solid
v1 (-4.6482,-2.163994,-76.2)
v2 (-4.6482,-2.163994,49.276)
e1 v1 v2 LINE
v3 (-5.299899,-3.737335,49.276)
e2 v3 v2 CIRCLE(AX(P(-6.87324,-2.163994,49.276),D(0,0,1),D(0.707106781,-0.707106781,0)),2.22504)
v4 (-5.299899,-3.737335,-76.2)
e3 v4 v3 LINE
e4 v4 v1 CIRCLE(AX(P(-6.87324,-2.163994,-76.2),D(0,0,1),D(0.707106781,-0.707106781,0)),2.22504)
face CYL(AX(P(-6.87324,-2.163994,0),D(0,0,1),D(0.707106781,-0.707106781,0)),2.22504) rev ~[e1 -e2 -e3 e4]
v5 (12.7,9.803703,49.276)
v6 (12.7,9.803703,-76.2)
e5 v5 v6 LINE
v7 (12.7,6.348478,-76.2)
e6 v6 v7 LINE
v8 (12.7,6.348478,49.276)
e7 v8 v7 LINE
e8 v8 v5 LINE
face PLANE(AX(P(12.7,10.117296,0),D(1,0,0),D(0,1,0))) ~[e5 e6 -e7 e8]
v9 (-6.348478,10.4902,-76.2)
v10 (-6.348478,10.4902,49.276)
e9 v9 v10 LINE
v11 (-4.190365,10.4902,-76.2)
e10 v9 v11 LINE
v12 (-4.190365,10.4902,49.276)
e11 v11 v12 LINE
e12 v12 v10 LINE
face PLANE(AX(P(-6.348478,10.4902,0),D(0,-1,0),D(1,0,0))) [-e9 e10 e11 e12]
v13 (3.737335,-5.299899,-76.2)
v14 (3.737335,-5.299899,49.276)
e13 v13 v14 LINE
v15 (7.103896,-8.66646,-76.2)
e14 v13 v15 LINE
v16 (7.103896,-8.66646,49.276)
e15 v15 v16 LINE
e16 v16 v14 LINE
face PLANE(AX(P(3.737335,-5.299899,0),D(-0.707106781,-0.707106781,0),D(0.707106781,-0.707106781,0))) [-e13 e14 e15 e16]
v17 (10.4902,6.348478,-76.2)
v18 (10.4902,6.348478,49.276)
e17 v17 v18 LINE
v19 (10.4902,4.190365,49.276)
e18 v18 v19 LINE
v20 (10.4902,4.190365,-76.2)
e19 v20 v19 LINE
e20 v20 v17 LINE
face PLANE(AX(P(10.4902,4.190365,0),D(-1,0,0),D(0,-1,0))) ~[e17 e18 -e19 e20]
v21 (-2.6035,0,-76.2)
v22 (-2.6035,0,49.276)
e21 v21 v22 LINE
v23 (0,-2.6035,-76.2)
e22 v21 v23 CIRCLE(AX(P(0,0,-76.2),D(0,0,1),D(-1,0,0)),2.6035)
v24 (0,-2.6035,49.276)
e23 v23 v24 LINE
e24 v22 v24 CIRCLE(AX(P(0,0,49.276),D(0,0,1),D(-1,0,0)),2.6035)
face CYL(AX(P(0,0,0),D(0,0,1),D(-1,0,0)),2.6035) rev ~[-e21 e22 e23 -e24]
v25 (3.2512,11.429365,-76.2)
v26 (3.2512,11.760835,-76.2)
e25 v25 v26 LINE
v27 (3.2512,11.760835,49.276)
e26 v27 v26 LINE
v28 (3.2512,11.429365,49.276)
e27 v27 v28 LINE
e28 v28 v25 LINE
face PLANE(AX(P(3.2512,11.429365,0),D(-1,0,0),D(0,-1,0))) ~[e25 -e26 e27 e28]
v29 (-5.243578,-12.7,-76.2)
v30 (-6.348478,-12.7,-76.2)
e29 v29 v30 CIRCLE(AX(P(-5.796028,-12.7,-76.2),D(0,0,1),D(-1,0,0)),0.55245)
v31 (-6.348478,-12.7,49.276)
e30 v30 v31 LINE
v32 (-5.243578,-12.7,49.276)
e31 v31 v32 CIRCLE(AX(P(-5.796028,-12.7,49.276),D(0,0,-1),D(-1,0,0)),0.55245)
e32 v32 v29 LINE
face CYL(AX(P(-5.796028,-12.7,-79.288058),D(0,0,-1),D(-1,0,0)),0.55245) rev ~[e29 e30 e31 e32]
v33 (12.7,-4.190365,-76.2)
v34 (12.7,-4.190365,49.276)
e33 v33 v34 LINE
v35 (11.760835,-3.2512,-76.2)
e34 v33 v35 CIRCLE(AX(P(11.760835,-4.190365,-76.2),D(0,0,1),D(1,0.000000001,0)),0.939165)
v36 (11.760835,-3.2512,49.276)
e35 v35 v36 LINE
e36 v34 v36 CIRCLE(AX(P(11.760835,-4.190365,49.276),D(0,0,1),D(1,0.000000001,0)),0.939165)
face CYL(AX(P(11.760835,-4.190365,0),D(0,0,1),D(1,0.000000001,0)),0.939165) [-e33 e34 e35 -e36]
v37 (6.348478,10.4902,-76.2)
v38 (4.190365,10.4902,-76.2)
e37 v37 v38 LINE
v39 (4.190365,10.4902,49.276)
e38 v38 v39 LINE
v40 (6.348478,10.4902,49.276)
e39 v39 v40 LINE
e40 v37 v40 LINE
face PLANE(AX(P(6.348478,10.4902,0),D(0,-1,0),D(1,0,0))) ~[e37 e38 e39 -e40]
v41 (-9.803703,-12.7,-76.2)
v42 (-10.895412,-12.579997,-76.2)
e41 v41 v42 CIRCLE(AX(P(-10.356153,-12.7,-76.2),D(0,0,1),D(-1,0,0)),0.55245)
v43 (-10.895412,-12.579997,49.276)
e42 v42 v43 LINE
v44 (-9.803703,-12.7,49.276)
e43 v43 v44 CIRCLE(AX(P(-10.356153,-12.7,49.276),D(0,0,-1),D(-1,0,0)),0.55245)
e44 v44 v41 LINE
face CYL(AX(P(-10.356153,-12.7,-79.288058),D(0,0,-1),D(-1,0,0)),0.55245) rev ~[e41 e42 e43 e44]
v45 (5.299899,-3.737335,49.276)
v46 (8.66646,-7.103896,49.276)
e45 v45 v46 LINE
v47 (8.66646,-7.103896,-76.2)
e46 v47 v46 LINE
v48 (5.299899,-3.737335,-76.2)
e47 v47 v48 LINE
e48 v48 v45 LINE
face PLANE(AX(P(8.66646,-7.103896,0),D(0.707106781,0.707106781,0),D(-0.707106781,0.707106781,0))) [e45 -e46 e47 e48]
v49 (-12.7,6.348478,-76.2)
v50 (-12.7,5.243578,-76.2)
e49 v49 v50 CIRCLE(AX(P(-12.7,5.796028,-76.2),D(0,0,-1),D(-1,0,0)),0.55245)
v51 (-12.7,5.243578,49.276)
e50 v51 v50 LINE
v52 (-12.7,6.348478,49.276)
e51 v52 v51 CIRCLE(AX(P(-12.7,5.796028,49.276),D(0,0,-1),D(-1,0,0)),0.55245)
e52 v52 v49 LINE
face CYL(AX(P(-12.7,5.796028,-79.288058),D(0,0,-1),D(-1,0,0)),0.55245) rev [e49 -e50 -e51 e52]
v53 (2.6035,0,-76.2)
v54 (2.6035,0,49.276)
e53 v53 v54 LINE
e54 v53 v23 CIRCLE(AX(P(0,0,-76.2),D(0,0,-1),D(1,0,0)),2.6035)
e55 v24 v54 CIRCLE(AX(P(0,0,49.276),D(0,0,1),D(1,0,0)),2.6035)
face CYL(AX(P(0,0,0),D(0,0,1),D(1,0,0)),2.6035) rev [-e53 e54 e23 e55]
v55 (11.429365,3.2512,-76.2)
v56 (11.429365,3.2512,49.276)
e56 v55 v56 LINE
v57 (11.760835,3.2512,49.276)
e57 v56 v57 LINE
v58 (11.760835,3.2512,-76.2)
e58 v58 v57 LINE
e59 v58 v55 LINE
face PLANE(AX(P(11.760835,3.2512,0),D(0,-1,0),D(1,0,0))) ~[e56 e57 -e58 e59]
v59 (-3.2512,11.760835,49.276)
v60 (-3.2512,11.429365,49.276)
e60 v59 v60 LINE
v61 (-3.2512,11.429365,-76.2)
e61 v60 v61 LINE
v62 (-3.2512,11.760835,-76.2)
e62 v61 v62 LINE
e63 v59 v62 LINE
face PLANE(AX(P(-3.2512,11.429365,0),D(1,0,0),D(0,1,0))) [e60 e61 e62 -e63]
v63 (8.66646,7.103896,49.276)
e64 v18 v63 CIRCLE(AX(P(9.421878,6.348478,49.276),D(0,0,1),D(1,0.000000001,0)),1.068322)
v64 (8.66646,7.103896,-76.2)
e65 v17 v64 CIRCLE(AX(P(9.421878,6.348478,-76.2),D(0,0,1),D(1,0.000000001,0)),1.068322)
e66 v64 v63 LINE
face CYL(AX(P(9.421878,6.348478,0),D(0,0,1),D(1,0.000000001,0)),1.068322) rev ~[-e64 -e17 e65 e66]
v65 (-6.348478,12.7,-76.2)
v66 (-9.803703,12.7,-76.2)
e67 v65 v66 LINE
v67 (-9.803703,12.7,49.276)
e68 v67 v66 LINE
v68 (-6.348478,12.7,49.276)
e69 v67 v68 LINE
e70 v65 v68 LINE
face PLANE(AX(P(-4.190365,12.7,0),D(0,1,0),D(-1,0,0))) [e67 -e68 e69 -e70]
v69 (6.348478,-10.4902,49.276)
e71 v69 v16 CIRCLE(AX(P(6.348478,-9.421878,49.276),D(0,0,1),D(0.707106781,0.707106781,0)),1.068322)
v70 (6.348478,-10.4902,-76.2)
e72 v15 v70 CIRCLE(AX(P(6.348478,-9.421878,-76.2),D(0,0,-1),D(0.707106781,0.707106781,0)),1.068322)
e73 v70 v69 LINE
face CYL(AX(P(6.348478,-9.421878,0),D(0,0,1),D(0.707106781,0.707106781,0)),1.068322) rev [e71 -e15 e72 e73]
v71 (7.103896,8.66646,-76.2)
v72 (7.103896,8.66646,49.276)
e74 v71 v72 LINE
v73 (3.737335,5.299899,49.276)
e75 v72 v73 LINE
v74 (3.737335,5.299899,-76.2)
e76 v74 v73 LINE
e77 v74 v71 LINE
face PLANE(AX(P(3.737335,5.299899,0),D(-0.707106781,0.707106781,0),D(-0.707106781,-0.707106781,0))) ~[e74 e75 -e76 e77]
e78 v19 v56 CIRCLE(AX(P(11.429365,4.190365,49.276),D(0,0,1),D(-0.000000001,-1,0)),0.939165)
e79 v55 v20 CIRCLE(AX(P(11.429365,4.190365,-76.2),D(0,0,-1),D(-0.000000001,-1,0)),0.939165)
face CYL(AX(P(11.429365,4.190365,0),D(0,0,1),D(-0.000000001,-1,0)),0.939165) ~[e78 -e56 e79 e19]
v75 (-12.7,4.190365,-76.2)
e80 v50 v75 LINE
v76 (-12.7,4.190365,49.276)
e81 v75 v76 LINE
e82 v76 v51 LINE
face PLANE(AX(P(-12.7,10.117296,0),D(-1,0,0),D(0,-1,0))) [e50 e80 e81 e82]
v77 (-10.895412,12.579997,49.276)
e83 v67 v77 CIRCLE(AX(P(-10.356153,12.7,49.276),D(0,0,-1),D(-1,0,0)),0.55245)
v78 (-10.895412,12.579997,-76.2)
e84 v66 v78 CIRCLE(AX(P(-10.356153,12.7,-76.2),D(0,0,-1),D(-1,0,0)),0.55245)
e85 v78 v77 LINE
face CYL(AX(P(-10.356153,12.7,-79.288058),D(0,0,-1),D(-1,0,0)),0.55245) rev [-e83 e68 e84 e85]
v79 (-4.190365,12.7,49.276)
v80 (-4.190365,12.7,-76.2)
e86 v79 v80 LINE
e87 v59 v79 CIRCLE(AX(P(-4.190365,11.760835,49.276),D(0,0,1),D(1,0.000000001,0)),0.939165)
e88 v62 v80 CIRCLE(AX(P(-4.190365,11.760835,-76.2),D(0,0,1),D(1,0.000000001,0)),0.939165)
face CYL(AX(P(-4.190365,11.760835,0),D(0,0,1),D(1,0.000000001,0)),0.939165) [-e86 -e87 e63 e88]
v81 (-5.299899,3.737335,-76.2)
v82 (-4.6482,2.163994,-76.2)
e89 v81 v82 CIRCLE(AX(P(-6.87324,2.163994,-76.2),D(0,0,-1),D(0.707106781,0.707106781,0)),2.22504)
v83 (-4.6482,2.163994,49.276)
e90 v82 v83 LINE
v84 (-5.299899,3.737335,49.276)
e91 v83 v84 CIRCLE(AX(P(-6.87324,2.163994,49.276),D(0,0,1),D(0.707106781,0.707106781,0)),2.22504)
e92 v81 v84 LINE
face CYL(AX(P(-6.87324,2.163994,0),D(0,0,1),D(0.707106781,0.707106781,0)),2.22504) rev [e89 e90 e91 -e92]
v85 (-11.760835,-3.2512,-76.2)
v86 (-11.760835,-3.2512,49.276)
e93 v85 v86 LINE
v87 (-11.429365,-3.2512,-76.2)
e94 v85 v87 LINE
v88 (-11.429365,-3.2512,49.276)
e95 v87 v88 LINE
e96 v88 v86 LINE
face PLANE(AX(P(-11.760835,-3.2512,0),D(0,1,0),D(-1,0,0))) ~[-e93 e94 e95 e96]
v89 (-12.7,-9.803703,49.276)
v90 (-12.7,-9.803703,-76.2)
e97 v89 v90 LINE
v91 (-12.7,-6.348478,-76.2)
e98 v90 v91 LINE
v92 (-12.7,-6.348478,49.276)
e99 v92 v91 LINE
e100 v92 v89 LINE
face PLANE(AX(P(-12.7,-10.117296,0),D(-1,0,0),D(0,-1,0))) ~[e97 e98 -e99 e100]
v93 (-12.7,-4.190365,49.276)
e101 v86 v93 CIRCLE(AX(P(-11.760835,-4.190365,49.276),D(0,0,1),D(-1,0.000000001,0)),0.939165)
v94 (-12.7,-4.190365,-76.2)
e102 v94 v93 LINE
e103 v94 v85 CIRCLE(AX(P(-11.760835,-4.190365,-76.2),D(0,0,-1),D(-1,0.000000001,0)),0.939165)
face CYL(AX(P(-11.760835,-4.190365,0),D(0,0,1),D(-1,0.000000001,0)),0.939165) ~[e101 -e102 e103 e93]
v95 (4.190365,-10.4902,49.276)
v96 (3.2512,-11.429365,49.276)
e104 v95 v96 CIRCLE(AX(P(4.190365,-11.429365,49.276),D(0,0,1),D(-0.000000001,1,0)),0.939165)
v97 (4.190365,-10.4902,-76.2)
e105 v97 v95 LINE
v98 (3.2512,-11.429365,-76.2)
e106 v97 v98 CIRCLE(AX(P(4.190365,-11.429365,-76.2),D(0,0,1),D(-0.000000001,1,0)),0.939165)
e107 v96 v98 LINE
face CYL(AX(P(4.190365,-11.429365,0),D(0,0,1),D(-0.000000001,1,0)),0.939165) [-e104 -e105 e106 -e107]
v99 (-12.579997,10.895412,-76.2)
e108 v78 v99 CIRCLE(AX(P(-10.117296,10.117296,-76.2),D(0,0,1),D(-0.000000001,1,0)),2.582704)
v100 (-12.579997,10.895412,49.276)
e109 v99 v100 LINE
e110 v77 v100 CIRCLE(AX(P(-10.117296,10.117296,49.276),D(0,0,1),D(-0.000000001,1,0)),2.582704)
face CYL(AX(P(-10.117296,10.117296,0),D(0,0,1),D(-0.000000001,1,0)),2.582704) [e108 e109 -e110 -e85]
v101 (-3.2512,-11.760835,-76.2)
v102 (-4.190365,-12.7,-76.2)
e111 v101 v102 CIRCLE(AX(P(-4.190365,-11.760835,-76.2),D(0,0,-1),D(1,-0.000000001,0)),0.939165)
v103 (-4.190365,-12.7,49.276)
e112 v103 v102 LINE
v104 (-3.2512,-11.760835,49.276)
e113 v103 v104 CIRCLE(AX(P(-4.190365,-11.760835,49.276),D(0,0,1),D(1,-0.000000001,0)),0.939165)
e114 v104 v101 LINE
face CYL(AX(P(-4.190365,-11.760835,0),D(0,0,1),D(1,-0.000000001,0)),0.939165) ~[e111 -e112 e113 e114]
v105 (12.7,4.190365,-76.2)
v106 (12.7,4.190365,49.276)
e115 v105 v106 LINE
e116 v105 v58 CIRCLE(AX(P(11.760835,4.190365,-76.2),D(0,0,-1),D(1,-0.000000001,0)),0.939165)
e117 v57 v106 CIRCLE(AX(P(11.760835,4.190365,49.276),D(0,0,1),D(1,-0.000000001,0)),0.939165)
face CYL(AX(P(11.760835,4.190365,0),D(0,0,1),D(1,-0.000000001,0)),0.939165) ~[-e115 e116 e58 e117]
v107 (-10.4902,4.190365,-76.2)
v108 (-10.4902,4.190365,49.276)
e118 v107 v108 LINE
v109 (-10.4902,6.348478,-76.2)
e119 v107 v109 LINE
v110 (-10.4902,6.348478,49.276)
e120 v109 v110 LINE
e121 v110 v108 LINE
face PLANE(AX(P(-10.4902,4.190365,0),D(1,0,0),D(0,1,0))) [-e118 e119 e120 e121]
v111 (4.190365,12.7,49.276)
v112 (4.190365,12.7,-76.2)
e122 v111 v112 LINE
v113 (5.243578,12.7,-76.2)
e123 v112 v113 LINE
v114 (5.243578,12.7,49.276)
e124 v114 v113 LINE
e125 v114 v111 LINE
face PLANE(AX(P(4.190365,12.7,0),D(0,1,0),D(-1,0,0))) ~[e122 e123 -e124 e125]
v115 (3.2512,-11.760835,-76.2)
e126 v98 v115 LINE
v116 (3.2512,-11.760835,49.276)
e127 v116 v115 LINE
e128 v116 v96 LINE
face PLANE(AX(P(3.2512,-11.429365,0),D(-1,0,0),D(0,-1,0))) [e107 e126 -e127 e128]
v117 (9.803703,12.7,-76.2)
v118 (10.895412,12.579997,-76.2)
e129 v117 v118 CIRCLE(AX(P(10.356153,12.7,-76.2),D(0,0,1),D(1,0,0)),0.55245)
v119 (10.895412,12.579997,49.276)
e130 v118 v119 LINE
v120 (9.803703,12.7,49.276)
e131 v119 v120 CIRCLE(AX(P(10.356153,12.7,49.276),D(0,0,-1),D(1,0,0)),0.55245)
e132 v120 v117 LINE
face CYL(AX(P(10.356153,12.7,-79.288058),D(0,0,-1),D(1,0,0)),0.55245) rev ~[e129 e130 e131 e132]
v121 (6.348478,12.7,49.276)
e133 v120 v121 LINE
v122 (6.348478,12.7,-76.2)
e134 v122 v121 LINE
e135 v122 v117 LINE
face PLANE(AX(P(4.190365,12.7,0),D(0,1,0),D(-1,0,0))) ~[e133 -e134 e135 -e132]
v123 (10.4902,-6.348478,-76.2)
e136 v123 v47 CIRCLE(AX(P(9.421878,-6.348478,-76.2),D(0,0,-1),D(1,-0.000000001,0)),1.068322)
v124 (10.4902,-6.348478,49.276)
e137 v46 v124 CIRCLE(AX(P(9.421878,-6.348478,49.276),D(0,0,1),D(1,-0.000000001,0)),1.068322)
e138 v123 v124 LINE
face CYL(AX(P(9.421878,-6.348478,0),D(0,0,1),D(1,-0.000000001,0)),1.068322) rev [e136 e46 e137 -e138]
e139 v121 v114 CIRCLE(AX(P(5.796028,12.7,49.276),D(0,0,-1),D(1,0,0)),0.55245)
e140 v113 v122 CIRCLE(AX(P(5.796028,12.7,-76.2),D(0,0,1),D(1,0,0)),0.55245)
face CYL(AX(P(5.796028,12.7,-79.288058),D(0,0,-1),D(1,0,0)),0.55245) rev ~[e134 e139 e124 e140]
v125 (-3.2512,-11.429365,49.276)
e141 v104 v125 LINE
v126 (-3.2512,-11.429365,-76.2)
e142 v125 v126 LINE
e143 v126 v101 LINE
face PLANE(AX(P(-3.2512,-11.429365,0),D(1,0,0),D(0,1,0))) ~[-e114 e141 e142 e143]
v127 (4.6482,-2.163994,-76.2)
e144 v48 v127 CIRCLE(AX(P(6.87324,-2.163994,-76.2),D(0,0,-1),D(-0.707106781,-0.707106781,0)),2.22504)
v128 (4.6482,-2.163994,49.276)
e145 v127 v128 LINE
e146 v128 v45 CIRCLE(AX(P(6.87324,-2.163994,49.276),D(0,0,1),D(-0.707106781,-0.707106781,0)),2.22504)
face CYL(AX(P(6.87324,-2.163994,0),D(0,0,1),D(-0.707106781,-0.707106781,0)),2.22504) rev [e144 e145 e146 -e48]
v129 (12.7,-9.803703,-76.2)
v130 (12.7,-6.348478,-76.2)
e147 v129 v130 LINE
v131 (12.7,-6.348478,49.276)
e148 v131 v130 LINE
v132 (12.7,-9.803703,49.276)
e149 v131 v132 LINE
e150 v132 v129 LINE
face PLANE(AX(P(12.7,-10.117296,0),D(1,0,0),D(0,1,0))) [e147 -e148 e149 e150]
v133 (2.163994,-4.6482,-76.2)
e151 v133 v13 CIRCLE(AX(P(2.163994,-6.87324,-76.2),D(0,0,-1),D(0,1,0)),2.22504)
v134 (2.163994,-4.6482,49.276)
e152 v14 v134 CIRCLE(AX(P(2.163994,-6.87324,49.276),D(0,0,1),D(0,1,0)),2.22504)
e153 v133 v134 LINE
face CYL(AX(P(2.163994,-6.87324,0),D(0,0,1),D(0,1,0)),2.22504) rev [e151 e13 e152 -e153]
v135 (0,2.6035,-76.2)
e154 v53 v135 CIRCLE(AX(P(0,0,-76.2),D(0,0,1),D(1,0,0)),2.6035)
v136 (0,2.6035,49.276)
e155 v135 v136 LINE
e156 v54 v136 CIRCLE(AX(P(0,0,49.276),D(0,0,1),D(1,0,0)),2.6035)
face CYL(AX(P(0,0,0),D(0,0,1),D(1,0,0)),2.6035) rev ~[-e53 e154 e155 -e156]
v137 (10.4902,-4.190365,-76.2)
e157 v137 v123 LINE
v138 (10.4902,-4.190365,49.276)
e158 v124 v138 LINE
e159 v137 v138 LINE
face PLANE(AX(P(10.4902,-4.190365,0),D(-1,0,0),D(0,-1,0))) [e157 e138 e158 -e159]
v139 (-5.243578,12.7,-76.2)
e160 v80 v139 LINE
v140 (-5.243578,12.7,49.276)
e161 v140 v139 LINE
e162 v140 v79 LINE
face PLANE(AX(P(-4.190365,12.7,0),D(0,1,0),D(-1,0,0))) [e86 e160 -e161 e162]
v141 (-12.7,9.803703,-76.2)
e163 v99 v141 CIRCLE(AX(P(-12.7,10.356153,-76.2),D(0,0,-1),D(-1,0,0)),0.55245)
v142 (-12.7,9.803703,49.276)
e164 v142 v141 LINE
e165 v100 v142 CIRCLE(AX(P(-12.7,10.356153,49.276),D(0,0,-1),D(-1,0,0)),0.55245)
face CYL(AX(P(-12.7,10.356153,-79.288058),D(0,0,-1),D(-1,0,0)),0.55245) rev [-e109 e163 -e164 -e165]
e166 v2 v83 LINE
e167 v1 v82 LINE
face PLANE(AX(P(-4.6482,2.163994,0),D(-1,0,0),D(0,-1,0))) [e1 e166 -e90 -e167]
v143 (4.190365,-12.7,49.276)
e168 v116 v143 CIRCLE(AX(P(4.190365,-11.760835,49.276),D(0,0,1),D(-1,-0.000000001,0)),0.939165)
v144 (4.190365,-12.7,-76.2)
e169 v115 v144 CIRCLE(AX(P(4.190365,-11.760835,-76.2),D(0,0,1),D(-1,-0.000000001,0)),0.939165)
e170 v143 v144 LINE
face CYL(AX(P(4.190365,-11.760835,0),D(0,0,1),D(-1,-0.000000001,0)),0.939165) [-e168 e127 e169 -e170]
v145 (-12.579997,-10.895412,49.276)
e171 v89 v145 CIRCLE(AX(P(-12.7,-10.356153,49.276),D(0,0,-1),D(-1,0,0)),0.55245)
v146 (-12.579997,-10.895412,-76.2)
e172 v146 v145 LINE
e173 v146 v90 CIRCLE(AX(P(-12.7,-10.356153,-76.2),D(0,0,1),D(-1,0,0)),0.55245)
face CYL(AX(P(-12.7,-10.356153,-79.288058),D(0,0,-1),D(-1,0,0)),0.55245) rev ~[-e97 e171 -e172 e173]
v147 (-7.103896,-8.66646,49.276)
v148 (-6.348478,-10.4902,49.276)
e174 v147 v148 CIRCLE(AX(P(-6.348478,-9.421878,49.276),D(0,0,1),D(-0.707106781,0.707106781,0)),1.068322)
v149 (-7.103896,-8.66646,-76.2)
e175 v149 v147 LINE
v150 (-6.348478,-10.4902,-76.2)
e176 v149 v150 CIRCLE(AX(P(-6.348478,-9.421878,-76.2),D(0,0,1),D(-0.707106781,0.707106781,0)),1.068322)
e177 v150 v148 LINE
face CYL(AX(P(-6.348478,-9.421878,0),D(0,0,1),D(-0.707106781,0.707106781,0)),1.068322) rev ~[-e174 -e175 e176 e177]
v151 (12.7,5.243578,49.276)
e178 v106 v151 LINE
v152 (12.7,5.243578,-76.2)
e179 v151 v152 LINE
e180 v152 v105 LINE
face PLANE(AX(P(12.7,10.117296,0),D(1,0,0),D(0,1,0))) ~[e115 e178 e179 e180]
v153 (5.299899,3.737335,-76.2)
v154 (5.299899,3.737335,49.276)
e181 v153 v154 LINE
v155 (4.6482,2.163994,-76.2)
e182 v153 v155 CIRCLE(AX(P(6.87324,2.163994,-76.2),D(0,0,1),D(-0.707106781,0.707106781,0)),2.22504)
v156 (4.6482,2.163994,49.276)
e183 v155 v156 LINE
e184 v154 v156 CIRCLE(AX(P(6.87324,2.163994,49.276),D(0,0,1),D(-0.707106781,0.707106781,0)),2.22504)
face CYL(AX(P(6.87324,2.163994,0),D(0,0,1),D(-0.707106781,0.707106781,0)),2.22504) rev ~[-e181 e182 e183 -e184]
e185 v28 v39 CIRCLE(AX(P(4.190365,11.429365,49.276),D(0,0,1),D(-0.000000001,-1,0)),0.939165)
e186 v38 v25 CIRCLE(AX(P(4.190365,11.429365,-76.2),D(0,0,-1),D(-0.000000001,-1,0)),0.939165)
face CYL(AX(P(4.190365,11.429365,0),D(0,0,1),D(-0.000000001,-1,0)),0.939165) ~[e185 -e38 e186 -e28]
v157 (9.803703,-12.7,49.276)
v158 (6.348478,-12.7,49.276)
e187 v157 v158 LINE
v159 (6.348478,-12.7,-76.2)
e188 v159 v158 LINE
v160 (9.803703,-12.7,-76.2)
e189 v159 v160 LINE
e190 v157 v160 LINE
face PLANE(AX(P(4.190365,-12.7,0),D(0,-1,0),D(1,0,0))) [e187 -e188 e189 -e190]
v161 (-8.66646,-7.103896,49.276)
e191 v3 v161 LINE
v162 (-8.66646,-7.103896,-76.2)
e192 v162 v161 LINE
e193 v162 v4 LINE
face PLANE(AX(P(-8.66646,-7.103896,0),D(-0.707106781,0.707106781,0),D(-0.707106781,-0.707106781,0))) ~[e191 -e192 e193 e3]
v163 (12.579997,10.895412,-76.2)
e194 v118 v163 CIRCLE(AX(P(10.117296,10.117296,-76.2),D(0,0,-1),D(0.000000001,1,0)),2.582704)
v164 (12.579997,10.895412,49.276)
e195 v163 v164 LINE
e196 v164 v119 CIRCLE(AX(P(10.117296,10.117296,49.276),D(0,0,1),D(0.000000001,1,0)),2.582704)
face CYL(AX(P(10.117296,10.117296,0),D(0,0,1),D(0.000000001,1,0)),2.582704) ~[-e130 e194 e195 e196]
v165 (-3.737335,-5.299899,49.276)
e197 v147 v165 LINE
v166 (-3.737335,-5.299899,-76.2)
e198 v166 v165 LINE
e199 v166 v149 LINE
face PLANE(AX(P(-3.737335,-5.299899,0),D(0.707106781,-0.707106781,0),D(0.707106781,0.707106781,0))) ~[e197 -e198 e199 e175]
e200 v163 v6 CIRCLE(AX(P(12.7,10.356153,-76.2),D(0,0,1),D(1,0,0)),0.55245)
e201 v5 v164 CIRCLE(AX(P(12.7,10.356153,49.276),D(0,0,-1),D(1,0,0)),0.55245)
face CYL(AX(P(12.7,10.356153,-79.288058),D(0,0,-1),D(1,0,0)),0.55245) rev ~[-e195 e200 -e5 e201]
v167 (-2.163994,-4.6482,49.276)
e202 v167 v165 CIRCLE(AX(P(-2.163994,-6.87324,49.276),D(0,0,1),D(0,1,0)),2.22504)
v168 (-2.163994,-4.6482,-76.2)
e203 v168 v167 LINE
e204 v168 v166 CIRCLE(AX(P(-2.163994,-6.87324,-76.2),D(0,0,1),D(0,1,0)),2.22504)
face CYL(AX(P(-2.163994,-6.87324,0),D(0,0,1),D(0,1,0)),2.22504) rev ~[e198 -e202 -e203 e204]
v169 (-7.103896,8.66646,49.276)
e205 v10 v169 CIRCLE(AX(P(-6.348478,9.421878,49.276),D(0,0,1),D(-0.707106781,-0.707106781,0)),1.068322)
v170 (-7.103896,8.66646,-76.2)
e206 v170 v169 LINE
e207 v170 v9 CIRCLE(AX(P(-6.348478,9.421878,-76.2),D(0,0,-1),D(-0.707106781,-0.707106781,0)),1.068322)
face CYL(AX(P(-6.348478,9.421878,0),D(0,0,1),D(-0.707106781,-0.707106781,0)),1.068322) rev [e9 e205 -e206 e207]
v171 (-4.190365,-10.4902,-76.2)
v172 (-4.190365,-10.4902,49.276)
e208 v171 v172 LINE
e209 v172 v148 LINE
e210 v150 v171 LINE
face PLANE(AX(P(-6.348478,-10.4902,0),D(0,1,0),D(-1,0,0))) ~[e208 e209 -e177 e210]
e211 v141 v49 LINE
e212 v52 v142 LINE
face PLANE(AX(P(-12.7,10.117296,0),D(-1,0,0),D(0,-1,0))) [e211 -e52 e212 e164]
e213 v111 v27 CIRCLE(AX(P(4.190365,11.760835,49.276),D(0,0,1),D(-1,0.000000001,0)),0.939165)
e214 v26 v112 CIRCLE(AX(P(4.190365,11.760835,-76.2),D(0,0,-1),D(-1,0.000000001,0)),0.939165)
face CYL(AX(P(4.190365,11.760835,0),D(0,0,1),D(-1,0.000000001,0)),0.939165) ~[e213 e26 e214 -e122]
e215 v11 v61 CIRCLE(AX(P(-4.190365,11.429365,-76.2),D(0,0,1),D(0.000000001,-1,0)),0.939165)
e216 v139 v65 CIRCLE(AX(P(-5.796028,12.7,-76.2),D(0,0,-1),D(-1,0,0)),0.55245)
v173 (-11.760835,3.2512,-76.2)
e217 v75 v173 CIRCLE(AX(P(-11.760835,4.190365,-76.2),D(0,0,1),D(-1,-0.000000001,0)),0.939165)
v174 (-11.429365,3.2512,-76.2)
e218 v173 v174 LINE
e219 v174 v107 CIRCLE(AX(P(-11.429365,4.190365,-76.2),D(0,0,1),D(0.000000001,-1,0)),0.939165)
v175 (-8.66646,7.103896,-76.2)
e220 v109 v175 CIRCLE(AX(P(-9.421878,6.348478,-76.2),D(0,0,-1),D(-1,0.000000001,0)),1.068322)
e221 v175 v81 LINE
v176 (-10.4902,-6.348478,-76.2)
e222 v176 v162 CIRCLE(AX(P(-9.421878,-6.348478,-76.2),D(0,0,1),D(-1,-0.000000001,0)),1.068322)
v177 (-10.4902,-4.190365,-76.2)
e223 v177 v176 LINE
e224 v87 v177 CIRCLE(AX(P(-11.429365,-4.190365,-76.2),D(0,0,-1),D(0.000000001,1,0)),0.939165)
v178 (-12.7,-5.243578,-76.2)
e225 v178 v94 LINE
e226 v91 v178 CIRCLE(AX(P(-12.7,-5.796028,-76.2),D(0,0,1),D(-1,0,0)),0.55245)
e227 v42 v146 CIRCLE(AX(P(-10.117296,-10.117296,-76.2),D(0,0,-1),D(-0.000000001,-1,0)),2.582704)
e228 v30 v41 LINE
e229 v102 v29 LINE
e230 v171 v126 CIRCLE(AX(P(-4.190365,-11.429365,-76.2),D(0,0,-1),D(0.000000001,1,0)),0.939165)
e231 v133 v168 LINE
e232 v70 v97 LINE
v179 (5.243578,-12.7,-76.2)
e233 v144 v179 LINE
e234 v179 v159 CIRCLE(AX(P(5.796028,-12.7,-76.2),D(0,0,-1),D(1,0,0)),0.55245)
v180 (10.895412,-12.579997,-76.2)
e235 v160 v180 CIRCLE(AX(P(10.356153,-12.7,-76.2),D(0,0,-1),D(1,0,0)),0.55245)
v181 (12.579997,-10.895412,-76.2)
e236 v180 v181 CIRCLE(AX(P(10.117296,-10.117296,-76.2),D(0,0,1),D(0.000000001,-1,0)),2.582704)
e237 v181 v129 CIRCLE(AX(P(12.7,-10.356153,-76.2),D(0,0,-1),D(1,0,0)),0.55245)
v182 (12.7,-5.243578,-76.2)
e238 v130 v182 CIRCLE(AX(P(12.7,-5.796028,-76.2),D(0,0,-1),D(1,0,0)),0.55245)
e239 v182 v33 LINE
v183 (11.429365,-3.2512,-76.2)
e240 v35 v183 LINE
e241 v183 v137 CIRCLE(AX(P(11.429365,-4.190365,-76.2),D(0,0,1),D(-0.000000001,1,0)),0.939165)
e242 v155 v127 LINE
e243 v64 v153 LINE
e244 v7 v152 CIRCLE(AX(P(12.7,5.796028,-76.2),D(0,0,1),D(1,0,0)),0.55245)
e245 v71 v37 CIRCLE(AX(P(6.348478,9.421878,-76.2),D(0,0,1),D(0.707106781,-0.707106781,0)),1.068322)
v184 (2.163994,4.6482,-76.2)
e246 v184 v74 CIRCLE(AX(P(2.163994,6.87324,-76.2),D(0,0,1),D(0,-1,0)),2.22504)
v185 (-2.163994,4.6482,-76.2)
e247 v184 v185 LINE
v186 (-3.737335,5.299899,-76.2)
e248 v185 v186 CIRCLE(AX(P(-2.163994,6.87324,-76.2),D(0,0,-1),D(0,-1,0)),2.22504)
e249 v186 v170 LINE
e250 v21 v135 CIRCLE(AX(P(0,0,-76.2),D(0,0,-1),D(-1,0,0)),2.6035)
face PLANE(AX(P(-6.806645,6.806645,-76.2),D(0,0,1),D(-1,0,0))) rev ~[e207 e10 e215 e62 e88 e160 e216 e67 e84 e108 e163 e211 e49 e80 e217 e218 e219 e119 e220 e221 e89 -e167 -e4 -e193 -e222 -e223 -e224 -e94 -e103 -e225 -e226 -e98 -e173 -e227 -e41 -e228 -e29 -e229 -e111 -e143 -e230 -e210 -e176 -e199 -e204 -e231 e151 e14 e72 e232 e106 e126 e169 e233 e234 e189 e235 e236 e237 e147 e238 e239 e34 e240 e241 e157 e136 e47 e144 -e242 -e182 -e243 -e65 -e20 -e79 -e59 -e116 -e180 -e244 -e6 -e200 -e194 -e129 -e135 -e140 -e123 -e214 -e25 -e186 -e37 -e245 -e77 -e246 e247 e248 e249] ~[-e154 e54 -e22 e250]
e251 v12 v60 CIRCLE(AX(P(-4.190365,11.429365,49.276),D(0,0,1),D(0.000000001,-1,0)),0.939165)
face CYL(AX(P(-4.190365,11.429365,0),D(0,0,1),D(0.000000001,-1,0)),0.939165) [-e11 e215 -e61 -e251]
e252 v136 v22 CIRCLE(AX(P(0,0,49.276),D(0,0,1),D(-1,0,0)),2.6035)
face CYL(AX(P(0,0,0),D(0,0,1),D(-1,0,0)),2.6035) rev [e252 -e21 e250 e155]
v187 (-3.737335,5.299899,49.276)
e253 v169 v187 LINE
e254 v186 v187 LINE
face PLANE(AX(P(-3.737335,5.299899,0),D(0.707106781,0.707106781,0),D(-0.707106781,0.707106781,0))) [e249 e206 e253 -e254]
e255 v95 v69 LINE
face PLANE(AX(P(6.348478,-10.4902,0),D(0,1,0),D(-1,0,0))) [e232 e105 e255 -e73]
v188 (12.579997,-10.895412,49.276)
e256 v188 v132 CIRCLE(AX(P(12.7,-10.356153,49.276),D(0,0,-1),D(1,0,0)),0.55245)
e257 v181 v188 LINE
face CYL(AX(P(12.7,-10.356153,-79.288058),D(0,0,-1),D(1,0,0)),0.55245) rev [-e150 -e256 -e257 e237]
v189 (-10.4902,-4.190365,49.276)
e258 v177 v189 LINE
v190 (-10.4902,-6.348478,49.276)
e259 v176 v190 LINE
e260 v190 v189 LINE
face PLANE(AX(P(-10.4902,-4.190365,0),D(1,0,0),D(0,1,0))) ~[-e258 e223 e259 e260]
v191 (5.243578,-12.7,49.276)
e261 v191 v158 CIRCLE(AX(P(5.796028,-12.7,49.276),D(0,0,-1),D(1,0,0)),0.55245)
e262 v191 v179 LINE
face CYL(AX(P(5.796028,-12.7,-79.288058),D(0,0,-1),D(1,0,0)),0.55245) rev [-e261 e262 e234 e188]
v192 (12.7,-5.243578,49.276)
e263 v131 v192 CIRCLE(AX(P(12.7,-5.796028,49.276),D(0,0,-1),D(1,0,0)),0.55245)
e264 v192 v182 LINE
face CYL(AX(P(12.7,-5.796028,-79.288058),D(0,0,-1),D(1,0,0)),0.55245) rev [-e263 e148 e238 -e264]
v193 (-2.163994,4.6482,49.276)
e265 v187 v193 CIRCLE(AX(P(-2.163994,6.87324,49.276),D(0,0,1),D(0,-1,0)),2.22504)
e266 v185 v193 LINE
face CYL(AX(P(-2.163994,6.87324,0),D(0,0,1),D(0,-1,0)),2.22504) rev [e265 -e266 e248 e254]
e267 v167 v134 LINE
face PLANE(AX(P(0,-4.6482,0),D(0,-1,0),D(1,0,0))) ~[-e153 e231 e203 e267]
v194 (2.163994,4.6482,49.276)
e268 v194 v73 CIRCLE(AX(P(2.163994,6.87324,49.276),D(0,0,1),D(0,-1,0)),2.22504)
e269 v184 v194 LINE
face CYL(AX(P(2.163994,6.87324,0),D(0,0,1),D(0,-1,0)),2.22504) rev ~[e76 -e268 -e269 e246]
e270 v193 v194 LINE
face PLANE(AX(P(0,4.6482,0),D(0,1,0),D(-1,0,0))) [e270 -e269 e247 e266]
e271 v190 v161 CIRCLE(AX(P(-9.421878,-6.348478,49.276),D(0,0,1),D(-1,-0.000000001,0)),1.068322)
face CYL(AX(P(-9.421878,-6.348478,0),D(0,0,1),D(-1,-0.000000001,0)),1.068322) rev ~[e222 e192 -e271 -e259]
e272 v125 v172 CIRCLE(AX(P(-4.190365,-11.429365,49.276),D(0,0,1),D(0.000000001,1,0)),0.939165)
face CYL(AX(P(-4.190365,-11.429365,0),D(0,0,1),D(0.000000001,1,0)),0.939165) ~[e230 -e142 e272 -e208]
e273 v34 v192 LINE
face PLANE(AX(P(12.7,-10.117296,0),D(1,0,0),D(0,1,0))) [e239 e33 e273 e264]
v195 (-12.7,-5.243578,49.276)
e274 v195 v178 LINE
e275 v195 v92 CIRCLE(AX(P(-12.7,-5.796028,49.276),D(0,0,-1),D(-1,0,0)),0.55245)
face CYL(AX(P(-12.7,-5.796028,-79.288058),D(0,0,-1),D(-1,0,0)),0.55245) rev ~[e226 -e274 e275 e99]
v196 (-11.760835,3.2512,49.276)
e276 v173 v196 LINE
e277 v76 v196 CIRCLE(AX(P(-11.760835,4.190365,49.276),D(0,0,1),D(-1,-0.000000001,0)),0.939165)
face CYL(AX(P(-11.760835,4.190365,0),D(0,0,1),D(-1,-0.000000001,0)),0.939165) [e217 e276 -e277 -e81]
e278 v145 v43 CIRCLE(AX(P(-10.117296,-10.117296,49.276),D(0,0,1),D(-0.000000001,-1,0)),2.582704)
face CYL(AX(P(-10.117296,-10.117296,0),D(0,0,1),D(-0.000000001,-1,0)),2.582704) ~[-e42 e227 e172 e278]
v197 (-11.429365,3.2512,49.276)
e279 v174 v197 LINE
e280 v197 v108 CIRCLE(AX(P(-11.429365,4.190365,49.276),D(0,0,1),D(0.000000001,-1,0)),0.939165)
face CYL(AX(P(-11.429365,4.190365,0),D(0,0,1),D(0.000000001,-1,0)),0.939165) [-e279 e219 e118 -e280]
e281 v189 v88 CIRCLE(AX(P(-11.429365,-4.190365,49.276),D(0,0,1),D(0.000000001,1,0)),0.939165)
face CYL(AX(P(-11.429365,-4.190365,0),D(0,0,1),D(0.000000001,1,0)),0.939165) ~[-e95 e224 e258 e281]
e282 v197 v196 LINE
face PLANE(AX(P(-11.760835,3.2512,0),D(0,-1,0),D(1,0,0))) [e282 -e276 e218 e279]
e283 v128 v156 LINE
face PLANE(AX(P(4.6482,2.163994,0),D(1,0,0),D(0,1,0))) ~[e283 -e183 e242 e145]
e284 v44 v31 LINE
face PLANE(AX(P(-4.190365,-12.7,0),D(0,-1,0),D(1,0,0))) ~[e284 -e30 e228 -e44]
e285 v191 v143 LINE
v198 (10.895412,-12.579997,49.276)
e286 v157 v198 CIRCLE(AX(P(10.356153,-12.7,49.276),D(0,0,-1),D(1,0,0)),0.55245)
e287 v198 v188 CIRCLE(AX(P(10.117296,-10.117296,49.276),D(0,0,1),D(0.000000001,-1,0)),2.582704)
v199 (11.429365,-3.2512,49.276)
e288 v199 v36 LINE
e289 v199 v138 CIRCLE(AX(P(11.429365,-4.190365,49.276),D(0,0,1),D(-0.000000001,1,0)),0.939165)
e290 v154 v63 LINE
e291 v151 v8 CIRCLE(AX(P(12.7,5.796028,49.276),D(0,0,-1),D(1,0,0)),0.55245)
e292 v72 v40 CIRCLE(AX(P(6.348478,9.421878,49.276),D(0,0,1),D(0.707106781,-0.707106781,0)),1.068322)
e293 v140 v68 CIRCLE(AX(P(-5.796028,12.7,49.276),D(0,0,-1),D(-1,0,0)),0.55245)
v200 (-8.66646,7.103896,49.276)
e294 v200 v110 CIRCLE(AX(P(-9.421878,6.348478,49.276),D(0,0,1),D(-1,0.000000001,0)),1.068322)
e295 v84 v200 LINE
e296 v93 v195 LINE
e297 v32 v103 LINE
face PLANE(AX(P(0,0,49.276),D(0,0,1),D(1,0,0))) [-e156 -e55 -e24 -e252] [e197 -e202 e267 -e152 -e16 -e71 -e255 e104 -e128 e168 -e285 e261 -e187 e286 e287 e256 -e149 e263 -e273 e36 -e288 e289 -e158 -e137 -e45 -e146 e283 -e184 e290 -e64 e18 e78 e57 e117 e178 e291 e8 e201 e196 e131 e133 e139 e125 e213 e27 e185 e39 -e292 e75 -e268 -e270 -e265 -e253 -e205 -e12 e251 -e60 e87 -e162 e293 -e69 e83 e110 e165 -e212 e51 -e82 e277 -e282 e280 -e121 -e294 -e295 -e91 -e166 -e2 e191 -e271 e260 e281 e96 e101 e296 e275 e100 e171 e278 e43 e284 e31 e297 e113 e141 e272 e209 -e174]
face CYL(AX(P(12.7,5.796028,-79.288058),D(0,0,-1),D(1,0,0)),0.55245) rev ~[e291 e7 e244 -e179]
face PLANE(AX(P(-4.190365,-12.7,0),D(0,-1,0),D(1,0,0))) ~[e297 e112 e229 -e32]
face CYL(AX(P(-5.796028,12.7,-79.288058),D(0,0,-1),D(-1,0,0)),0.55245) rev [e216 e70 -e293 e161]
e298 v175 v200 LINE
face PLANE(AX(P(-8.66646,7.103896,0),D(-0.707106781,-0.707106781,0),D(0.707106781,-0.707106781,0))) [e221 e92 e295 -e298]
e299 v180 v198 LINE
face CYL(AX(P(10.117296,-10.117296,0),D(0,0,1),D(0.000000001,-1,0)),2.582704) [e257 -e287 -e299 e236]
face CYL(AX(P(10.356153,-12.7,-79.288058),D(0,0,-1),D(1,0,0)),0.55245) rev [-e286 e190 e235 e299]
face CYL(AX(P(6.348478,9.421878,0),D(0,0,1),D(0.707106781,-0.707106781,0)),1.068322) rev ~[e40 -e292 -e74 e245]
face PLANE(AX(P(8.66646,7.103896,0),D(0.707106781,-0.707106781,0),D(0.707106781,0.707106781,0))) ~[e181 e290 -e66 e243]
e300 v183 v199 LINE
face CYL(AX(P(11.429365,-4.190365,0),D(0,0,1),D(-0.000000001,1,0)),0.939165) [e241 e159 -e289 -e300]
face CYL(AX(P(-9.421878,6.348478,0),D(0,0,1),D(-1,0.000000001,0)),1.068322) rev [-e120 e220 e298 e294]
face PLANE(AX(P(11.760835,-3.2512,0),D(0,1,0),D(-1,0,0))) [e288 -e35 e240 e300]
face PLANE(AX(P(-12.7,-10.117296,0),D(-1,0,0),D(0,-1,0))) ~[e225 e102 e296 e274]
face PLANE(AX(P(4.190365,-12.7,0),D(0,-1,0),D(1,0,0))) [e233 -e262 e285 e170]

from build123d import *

# Parameters (mm, degrees)
BOSS_EXTRUDE1_DEPTH     = 76.2
CUT_EXTRUDE1_DEPTH      = 79.288057838
CUT_EXTRUDE1_DEPTH_BACK = 79.288057838
SKETCH5_R               = 0.55245
SKETCH6_W               = 30.48
SKETCH6_H               = 30.48
CUT_EXTRUDE2_DEPTH      = 26.924


with BuildPart() as part:
    # Sketch4 → Boss-Extrude1 (new, symmetric)
    with BuildSketch(Plane.XY):
        with BuildLine():
            Line((4.190365, -12.7), (10.11729625, -12.7))
            ThreePointArc((10.11729625, -12.7), (11.943543585, -11.943543585), (12.7, -10.11729625))
            Line((12.7, -10.11729625), (12.7, -4.190365))
            ThreePointArc((12.7, -4.190365), (12.42492494, -3.52627506), (11.760835, -3.2512))
            Line((11.760835, -3.2512), (11.429365, -3.2512))
            ThreePointArc((11.429365, -3.2512), (10.76527506, -3.52627506), (10.4902, -4.190365))
            Line((10.4902, -4.190365), (10.4902, -6.348478019))
            ThreePointArc((10.4902, -6.348478019), (9.830707141, -7.335478831), (8.666460301, -7.103895736))
            Line((8.666460301, -7.103895736), (5.299899128, -3.737334563))
            ThreePointArc((5.299899128, -3.737334563), (4.817571085, -3.015479634), (4.6482, -2.16399369))
            Line((4.6482, -2.16399369), (4.6482, 0))
            Line((4.6482, 0), (2.6035, 0))
            ThreePointArc((2.6035, 0), (1.840952505, -1.840952505), (0, -2.6035))
            Line((0, -2.6035), (0, -4.6482))
            Line((0, -4.6482), (2.16399369, -4.6482))
            ThreePointArc((2.16399369, -4.6482), (3.015479634, -4.817571085), (3.737334563, -5.299899128))
            Line((3.737334563, -5.299899128), (7.103895736, -8.666460301))
            ThreePointArc((7.103895736, -8.666460301), (7.335478831, -9.830707141), (6.348478019, -10.4902))
            Line((6.348478019, -10.4902), (4.190365, -10.4902))
            ThreePointArc((4.190365, -10.4902), (3.52627506, -10.76527506), (3.2512, -11.429365))
            Line((3.2512, -11.429365), (3.2512, -11.760835))
            ThreePointArc((3.2512, -11.760835), (3.52627506, -12.42492494), (4.190365, -12.7))
        make_face()
    extrude(amount=BOSS_EXTRUDE1_DEPTH, both=True)

    # Sketch5 → Cut-Extrude1 (cut, two sides: drawn at the far end of the back side and taken through both)
    with BuildSketch(Plane.XY.offset(-CUT_EXTRUDE1_DEPTH_BACK)):
        with Locations((10.356153152, -12.7)):
            Circle(SKETCH5_R)
        with Locations((5.796028019, -12.7)):
            Circle(SKETCH5_R)
        with Locations((12.7, -10.356153152)):
            Circle(SKETCH5_R)
        with Locations((12.7, -5.796028019)):
            Circle(SKETCH5_R)
    extrude(amount=CUT_EXTRUDE1_DEPTH + CUT_EXTRUDE1_DEPTH_BACK, mode=Mode.SUBTRACT)

    # Mirror1: part across plane


with BuildPart() as part_1:
    add(part.part)
    add(part.part.mirror(Plane(origin=(0, 0, 0), x_dir=(0, 0, 1), z_dir=(1, 0, 0))))

    # Mirror2: part across plane


with BuildPart() as part_2:
    add(part_1.part)
    add(part_1.part.mirror(Plane.ZX))

    # Sketch6 → Cut-Extrude2 (cut)
    with BuildSketch(Plane.XY.offset(76.2)):
        Rectangle(SKETCH6_W, SKETCH6_H)
    extrude(amount=-CUT_EXTRUDE2_DEPTH, mode=Mode.SUBTRACT)


solid = part_2.part
